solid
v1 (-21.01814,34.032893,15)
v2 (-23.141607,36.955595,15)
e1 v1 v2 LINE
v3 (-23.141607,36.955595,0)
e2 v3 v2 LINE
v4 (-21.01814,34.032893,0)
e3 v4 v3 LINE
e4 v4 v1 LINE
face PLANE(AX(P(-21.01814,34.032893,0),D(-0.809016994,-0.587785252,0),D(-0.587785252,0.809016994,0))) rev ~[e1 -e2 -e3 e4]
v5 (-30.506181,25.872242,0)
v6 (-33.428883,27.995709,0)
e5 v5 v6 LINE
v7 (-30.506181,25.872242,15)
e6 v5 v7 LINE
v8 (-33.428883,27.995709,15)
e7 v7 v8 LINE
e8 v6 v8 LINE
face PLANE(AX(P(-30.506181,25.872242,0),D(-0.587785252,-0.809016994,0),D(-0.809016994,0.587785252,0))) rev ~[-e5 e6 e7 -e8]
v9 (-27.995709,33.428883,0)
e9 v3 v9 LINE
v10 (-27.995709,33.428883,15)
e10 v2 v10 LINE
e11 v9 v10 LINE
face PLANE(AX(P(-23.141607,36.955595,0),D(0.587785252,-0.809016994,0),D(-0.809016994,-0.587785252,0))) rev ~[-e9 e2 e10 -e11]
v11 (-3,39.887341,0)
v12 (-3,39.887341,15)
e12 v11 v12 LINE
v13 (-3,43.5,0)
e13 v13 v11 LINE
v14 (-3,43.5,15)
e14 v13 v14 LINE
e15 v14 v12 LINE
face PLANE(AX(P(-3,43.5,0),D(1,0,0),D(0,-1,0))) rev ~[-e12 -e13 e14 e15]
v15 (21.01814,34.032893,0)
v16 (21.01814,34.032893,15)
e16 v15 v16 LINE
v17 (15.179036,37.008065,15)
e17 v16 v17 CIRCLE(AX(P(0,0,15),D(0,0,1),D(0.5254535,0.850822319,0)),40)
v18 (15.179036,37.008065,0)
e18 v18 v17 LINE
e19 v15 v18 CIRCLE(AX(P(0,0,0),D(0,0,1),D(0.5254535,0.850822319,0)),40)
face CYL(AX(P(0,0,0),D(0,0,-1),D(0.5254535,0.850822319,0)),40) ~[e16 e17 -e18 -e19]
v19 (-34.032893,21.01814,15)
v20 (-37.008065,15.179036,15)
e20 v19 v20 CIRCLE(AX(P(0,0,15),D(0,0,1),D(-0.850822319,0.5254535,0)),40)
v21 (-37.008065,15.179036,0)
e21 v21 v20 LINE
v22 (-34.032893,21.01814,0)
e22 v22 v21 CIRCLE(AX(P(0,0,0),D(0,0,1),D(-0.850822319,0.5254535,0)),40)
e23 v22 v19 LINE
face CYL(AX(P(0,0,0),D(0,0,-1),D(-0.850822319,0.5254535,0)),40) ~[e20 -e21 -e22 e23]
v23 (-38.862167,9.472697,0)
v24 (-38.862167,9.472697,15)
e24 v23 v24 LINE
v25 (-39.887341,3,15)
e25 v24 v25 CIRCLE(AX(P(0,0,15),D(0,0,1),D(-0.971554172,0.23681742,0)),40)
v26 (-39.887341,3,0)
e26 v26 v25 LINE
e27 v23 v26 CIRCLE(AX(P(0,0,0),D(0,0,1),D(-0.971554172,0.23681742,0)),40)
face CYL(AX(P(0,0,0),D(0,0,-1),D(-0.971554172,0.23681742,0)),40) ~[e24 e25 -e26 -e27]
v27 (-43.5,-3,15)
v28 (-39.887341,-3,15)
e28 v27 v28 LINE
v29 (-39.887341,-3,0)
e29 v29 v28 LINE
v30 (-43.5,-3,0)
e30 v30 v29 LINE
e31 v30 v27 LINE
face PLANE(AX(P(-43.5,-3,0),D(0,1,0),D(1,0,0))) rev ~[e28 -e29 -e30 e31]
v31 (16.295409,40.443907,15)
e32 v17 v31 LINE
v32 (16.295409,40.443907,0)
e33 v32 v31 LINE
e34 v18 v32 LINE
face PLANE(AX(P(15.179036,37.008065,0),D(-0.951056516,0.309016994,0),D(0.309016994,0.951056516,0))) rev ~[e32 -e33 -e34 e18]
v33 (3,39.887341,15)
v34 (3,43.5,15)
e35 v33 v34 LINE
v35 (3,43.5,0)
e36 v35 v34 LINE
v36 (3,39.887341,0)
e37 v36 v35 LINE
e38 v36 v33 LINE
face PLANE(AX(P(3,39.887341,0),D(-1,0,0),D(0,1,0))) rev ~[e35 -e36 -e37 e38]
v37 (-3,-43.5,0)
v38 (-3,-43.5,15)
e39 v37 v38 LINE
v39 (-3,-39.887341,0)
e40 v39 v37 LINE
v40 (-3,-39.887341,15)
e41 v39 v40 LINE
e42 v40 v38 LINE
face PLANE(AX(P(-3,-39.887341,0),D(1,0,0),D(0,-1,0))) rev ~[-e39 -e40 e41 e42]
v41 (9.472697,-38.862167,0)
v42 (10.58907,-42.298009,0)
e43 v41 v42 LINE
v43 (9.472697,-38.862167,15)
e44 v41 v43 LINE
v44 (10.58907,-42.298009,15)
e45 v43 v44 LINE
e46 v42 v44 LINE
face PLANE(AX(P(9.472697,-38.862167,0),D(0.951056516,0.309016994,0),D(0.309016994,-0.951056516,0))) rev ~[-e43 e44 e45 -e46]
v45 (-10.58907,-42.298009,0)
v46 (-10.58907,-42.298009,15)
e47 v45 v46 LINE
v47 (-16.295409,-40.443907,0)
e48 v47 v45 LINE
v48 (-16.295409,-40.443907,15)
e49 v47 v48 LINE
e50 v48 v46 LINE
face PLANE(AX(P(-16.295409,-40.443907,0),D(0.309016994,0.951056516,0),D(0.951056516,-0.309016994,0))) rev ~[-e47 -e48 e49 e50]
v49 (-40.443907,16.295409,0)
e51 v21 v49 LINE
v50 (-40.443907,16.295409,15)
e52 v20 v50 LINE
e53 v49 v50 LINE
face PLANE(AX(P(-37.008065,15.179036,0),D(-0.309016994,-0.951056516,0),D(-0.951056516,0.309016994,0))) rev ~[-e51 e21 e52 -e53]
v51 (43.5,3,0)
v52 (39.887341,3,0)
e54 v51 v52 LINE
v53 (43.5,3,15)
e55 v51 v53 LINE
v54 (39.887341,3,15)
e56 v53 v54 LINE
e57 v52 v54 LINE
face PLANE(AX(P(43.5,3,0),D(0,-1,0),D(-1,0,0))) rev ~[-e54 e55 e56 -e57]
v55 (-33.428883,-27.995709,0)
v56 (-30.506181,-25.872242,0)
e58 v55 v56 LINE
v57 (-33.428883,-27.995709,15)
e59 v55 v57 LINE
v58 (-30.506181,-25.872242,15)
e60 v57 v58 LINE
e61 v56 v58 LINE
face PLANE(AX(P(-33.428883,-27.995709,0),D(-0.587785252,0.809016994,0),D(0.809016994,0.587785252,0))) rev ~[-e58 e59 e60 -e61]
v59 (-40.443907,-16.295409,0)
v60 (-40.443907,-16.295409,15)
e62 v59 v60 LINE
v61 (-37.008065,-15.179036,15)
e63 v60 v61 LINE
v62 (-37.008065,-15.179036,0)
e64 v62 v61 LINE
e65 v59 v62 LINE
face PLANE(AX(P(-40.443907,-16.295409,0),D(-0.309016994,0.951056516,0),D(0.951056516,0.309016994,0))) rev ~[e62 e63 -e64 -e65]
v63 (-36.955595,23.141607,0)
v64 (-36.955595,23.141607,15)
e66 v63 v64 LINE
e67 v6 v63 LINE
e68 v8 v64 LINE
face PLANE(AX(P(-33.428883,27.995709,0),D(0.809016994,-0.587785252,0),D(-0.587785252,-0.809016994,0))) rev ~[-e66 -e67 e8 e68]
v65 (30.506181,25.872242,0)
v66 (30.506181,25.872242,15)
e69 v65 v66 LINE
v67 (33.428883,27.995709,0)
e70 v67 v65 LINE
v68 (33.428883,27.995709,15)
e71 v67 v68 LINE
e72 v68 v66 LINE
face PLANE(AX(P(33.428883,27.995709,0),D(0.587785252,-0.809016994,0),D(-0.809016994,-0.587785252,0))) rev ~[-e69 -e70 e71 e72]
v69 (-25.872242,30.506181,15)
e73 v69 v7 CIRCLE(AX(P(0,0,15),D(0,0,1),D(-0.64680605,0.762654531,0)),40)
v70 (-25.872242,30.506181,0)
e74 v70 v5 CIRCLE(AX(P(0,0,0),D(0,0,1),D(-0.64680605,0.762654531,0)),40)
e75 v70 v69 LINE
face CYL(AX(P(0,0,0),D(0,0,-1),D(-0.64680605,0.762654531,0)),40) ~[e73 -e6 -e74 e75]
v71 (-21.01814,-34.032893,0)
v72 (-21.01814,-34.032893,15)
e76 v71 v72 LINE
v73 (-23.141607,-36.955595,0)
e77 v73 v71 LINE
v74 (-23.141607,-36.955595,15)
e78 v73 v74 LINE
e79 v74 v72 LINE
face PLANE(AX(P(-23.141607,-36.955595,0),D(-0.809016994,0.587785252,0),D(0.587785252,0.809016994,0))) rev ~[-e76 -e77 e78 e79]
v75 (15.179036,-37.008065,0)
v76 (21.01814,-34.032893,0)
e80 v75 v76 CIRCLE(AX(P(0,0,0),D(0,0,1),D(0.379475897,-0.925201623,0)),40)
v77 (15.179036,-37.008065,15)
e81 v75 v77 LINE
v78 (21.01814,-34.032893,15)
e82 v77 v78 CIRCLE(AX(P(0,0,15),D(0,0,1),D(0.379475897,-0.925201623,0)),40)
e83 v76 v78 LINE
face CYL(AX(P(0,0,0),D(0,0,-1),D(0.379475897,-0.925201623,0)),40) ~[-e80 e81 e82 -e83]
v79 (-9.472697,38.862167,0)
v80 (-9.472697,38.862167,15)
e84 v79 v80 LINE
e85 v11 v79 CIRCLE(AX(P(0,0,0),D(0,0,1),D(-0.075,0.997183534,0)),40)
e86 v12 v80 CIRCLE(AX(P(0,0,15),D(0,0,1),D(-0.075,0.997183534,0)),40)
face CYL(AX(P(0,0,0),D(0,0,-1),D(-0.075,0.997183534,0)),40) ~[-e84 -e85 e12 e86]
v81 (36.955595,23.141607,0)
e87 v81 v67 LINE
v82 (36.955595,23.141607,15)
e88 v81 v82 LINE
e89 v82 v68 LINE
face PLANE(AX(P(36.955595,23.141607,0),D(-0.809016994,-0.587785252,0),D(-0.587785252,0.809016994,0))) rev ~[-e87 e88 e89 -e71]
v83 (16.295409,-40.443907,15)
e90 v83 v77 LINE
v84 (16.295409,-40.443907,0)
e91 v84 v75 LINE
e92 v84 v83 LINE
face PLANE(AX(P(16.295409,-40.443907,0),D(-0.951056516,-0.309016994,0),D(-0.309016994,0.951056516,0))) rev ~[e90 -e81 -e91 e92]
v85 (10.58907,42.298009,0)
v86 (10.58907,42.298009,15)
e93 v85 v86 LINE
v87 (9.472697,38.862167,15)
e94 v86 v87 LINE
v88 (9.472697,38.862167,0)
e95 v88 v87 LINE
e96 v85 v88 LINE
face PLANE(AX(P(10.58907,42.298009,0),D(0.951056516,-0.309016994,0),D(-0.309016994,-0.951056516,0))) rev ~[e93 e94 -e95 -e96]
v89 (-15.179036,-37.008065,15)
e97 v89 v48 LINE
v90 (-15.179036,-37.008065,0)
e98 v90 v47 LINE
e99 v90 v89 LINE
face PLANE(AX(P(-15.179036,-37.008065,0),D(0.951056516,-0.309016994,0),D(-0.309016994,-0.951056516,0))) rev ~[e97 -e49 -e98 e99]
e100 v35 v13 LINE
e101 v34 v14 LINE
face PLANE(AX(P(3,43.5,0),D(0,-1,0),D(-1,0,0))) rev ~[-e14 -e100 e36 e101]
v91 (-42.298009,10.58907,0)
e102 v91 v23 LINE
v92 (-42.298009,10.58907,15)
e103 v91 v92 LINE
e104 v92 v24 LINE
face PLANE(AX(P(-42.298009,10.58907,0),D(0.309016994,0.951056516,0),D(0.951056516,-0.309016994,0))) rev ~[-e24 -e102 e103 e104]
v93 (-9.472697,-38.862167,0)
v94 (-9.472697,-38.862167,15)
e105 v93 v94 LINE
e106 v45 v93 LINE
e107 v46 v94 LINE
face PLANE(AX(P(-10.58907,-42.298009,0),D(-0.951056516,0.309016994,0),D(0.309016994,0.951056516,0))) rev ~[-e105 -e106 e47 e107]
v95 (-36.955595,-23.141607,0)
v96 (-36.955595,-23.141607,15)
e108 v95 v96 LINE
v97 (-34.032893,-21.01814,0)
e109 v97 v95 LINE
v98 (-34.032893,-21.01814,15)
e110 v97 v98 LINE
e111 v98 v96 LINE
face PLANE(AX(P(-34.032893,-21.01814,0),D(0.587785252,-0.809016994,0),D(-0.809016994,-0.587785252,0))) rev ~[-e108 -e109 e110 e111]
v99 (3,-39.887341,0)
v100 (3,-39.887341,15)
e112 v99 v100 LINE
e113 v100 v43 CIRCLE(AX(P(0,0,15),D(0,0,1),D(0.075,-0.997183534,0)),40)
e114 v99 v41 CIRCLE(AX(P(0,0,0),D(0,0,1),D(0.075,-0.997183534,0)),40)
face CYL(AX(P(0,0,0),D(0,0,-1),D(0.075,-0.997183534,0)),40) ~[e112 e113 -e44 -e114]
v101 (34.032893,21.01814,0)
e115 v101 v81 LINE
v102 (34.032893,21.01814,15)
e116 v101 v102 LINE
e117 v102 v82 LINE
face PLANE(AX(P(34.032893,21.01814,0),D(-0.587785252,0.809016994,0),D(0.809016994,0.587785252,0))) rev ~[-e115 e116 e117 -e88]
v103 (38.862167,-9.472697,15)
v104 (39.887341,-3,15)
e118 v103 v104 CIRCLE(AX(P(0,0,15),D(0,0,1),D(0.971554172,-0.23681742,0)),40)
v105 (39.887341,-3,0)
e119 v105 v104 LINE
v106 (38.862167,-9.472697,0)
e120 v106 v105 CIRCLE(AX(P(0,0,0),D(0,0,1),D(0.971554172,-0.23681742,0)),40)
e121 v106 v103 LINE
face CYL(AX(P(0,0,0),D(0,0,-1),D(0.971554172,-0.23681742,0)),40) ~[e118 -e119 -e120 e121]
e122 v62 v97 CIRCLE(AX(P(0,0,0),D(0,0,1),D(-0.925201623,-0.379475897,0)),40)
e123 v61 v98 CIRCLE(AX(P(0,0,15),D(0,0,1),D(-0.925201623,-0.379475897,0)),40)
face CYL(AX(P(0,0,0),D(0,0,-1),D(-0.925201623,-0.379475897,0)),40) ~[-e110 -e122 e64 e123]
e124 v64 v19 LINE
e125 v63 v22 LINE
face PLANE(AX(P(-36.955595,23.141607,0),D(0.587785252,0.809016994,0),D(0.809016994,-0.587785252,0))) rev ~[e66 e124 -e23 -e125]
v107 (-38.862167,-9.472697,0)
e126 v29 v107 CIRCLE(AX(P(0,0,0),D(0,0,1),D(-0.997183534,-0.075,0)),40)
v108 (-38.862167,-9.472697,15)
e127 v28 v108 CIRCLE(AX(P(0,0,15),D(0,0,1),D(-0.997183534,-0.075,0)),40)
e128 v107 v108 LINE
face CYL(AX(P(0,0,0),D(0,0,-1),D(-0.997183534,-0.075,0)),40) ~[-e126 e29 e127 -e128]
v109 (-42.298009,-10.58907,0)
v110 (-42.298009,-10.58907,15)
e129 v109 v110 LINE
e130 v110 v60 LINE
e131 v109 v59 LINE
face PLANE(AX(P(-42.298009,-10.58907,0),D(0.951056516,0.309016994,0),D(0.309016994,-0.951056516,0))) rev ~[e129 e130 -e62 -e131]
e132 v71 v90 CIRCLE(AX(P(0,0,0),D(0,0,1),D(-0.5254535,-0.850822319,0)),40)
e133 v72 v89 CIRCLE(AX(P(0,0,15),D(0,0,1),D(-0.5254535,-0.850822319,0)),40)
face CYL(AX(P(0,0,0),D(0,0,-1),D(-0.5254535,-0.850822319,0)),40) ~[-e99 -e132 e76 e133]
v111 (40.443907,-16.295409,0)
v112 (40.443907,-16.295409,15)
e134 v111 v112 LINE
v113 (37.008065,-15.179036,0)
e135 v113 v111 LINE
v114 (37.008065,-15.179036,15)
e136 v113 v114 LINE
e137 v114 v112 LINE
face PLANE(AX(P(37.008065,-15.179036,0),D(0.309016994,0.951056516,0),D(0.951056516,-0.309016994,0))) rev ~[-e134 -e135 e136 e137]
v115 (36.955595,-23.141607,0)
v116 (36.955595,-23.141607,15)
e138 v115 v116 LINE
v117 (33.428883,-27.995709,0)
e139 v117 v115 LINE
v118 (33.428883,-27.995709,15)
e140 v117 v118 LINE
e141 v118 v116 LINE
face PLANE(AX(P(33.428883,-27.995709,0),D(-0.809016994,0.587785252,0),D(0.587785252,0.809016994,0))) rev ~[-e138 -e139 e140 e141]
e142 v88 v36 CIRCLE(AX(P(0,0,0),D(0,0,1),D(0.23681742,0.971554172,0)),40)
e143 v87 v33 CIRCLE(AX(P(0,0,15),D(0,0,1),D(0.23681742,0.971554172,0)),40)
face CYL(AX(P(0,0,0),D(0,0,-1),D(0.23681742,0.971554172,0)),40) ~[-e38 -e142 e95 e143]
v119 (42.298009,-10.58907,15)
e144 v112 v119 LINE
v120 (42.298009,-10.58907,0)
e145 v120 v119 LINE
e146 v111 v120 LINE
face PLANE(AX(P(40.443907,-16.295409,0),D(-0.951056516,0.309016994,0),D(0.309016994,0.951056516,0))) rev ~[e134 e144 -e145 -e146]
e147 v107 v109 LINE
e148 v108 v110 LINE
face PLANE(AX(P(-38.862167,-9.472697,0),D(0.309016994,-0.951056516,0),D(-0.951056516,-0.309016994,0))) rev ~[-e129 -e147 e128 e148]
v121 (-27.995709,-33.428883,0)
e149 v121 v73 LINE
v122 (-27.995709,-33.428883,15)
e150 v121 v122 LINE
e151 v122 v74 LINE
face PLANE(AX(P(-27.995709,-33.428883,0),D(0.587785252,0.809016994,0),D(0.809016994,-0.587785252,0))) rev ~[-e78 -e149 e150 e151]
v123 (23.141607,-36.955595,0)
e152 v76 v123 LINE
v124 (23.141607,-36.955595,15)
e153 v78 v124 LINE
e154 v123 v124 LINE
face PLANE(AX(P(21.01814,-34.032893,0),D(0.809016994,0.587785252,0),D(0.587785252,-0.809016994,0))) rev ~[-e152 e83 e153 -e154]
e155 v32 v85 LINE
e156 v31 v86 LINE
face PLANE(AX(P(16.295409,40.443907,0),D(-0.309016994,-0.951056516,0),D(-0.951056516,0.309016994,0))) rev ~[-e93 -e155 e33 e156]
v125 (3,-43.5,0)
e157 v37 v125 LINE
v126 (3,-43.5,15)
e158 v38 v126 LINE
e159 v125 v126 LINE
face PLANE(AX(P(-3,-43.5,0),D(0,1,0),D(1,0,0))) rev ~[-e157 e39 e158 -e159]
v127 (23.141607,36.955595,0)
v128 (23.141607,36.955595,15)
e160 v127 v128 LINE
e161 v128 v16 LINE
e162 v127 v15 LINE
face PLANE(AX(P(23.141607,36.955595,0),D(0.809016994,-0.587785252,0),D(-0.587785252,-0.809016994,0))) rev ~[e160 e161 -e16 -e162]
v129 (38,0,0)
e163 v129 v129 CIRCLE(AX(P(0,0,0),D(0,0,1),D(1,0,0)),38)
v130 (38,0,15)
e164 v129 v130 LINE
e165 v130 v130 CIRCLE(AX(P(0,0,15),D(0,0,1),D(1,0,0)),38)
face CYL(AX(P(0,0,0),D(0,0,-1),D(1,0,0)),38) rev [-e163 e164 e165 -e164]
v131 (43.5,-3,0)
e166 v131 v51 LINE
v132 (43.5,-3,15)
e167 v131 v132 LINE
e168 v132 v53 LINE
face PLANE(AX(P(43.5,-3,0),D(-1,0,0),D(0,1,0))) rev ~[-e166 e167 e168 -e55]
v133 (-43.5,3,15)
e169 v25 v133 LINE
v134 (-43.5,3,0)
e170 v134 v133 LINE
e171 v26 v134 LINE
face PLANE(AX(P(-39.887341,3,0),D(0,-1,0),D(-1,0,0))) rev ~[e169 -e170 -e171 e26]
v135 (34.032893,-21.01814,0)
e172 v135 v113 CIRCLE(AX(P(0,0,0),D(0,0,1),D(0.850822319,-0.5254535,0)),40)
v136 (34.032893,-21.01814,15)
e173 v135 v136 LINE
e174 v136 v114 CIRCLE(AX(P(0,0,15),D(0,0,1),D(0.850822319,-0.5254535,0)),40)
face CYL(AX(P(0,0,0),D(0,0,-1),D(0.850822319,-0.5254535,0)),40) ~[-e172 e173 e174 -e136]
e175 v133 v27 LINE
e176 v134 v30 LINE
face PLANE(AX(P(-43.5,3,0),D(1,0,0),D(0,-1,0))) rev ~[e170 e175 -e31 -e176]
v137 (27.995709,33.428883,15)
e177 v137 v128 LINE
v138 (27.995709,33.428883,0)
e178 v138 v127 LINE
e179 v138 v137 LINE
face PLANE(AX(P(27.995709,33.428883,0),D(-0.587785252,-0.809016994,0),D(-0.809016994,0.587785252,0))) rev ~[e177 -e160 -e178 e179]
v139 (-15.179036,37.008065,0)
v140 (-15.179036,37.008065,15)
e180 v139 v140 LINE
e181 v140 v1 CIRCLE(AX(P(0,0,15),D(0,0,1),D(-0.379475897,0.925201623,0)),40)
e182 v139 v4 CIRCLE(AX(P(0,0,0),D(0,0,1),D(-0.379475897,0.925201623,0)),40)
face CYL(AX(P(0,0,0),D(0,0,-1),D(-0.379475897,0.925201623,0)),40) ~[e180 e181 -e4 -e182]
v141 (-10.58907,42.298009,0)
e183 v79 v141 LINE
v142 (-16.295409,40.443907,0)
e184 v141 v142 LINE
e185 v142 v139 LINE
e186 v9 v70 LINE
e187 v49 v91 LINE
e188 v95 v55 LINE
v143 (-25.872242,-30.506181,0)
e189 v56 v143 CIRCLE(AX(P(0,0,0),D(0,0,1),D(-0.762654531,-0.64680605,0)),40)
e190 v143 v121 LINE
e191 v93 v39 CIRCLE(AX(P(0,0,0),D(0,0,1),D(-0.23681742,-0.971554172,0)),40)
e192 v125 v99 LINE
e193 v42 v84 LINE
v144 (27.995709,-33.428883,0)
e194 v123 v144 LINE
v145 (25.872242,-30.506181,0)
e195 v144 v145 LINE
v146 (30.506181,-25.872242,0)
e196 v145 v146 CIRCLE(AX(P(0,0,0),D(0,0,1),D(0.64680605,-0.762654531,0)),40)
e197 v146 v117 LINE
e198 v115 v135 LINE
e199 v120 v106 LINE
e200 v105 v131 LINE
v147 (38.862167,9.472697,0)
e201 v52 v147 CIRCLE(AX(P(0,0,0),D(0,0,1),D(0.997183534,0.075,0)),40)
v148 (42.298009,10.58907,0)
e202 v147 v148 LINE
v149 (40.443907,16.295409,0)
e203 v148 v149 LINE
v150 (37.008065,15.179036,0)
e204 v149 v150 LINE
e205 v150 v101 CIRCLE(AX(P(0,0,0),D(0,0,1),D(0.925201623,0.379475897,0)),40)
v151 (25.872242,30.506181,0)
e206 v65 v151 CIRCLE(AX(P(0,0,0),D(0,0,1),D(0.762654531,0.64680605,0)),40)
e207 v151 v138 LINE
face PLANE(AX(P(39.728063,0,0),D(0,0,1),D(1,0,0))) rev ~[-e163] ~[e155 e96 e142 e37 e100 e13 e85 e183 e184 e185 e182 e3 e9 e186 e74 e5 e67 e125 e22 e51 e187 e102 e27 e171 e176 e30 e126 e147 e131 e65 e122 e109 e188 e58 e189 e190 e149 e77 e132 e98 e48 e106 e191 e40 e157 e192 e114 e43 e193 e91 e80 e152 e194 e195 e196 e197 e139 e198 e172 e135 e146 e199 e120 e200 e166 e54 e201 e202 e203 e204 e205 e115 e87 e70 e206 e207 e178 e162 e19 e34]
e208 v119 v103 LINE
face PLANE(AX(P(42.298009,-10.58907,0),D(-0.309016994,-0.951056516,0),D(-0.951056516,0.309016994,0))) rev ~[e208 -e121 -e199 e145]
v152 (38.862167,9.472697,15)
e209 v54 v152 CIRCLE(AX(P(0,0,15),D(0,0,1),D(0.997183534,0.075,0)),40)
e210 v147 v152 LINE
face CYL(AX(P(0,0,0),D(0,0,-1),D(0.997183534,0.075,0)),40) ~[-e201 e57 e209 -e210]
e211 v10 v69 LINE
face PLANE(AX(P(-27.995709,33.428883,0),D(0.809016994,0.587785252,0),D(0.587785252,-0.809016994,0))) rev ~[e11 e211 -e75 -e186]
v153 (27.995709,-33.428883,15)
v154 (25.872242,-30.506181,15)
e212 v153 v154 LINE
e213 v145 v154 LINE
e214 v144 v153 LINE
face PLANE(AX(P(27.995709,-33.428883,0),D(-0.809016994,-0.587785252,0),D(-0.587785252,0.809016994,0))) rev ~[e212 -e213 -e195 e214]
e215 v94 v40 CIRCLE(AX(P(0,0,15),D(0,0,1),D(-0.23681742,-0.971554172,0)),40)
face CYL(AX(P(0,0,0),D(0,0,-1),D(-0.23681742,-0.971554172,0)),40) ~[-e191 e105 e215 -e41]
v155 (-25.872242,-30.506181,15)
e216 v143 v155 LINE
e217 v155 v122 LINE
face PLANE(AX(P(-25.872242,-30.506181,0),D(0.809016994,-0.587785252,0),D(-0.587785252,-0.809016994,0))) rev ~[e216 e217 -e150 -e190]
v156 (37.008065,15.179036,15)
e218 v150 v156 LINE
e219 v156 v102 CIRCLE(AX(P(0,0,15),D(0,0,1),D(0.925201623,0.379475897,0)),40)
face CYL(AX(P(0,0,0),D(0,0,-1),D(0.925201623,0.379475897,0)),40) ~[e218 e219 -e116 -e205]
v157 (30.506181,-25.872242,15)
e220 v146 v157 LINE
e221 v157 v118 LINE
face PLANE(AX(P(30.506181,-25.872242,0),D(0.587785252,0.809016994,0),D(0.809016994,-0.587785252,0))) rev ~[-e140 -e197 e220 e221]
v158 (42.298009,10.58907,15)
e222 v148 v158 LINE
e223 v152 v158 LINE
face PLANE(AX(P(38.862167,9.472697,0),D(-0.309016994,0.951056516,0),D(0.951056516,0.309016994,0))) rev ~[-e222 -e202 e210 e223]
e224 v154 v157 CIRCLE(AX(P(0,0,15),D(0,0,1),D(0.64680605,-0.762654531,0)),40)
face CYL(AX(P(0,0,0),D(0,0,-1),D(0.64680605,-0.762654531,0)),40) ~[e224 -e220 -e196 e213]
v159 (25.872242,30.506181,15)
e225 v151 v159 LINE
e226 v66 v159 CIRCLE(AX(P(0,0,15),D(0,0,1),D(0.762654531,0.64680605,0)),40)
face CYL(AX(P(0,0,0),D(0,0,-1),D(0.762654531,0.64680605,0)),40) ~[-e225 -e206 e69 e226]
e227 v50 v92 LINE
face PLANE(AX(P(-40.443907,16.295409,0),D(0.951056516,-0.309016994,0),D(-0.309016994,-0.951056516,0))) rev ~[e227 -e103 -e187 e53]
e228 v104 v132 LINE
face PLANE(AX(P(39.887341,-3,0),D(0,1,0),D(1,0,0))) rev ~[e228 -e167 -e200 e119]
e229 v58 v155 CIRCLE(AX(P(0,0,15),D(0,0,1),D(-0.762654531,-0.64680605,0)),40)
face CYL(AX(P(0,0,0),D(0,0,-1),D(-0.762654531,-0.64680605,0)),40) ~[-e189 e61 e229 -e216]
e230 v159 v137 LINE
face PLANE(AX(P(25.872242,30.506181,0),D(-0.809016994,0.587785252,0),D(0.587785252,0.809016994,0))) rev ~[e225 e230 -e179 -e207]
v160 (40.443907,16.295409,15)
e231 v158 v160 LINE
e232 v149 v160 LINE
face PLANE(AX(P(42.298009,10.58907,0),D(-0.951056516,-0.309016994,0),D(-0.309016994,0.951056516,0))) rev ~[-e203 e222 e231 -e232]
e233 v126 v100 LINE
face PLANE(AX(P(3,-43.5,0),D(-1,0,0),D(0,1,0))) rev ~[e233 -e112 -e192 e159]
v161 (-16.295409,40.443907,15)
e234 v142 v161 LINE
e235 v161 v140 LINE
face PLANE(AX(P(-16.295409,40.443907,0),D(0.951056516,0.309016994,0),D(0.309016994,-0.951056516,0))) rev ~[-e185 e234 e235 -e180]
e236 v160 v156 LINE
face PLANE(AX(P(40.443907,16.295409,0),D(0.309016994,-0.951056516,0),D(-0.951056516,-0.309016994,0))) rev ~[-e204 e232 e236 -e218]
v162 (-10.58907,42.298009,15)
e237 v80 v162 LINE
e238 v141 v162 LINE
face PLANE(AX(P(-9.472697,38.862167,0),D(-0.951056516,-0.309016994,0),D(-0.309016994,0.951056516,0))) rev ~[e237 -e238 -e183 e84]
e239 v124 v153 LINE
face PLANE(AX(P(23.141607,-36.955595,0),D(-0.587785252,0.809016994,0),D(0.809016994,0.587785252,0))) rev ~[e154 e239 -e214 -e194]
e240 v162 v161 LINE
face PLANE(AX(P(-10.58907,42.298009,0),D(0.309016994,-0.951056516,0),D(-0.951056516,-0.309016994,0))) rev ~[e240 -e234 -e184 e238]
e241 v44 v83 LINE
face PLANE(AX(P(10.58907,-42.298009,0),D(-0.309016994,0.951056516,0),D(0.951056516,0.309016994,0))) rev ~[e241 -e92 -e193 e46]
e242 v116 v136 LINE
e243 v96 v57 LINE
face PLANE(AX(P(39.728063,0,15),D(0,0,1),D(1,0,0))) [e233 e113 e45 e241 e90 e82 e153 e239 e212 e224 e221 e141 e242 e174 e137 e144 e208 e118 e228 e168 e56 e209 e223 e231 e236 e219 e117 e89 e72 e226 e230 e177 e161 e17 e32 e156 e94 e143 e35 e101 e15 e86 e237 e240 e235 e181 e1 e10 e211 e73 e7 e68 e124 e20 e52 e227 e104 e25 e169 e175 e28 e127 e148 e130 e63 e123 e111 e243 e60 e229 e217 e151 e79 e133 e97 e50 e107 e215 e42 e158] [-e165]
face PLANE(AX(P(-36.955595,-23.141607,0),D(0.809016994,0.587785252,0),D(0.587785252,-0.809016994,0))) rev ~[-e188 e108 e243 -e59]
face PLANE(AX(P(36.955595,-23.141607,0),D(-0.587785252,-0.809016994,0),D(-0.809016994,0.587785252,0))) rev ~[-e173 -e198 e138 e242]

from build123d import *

# Parameters (mm, degrees)
F0_R     = 38
F1_DEPTH = 15


with BuildPart() as f1:
    # F0 (on Top) → F1 (new body)
    with BuildSketch(Plane.XY):
        with BuildLine():
            ThreePointArc((39.8873413504, -3), (39.971825415, -1.5010572917), (40, 0))
            ThreePointArc((40, 0), (39.971825415, 1.5010572917), (39.8873413504, 3))
            Line((39.8873413504, 3), (39.5, 3))
            Line((39.5, 3), (39.5, -3))
            Line((39.5, -3), (39.8873413504, -3))
        make_face()
        with BuildLine():
            ThreePointArc((39.8873413504, 3), (39.971825415, 1.5010572917), (40, 0))
            ThreePointArc((40, 0), (39.971825415, -1.5010572917), (39.8873413504, -3))
            Line((39.8873413504, -3), (43.5, -3))
            Line((43.5, -3), (43.5, 3))
            Line((43.5, 3), (39.8873413504, 3))
        make_face()
        with BuildLine():
            Line((39.5, 3), (39.8873413504, 3))
            ThreePointArc((39.8873413504, 3), (39.5075336238, 6.2573786016), (38.8621668921, 9.4726967888))
            Line((38.8621668921, 9.4726967888), (38.4937833768, 9.3530017289))
            Line((38.4937833768, 9.3530017289), (36.6396814105, 15.0593408267))
            Line((36.6396814105, 15.0593408267), (37.0080649258, 15.1790358866))
            ThreePointArc((37.0080649258, 15.1790358866), (35.6402609675, 18.1596199896), (34.0328927698, 21.0181400158))
            Line((34.0328927698, 21.0181400158), (33.7195270347, 20.7904664824))
            Line((33.7195270347, 20.7904664824), (30.1928155209, 25.6445684487))
            Line((30.1928155209, 25.6445684487), (30.506181256, 25.872241982))
            ThreePointArc((30.506181256, 25.872241982), (28.2842712475, 28.2842712475), (25.872241982, 30.506181256))
            Line((25.872241982, 30.506181256), (25.6445684487, 30.1928155209))
            Line((25.6445684487, 30.1928155209), (20.7904664824, 33.7195270347))
            Line((20.7904664824, 33.7195270347), (21.0181400158, 34.0328927698))
            ThreePointArc((21.0181400158, 34.0328927698), (18.1596199896, 35.6402609675), (15.1790358866, 37.0080649258))
            Line((15.1790358866, 37.0080649258), (15.0593408267, 36.6396814105))
            Line((15.0593408267, 36.6396814105), (9.3530017289, 38.4937833768))
            Line((9.3530017289, 38.4937833768), (9.4726967888, 38.8621668921))
            ThreePointArc((9.4726967888, 38.8621668921), (6.2573786016, 39.5075336238), (3, 39.8873413504))
            Line((3, 39.8873413504), (3, 39.5))
            Line((3, 39.5), (-3, 39.5))
            Line((-3, 39.5), (-3, 39.8873413504))
            ThreePointArc((-3, 39.8873413504), (-6.2573786016, 39.5075336238), (-9.4726967888, 38.8621668921))
            Line((-9.4726967888, 38.8621668921), (-9.3530017289, 38.4937833768))
            Line((-9.3530017289, 38.4937833768), (-15.0593408267, 36.6396814105))
            Line((-15.0593408267, 36.6396814105), (-15.1790358866, 37.0080649258))
            ThreePointArc((-15.1790358866, 37.0080649258), (-18.1596199896, 35.6402609675), (-21.0181400158, 34.0328927698))
            Line((-21.0181400158, 34.0328927698), (-20.7904664824, 33.7195270347))
            Line((-20.7904664824, 33.7195270347), (-25.6445684487, 30.1928155209))
            Line((-25.6445684487, 30.1928155209), (-25.872241982, 30.506181256))
            ThreePointArc((-25.872241982, 30.506181256), (-28.2842712475, 28.2842712475), (-30.506181256, 25.872241982))
            Line((-30.506181256, 25.872241982), (-30.1928155209, 25.6445684487))
            Line((-30.1928155209, 25.6445684487), (-33.7195270347, 20.7904664824))
            Line((-33.7195270347, 20.7904664824), (-34.0328927698, 21.0181400158))
            ThreePointArc((-34.0328927698, 21.0181400158), (-35.6402609675, 18.1596199896), (-37.0080649258, 15.1790358866))
            Line((-37.0080649258, 15.1790358866), (-36.6396814105, 15.0593408267))
            Line((-36.6396814105, 15.0593408267), (-38.4937833768, 9.3530017289))
            Line((-38.4937833768, 9.3530017289), (-38.8621668921, 9.4726967888))
            ThreePointArc((-38.8621668921, 9.4726967888), (-39.5075336238, 6.2573786016), (-39.8873413504, 3))
            Line((-39.8873413504, 3), (-39.5, 3))
            Line((-39.5, 3), (-39.5, -3))
            Line((-39.5, -3), (-39.8873413504, -3))
            ThreePointArc((-39.8873413504, -3), (-39.5075336238, -6.2573786016), (-38.8621668921, -9.4726967888))
            Line((-38.8621668921, -9.4726967888), (-38.4937833768, -9.3530017289))
            Line((-38.4937833768, -9.3530017289), (-36.6396814105, -15.0593408267))
            Line((-36.6396814105, -15.0593408267), (-37.0080649258, -15.1790358866))
            ThreePointArc((-37.0080649258, -15.1790358866), (-35.6402609675, -18.1596199896), (-34.0328927698, -21.0181400158))
            Line((-34.0328927698, -21.0181400158), (-33.7195270347, -20.7904664824))
            Line((-33.7195270347, -20.7904664824), (-30.1928155209, -25.6445684487))
            Line((-30.1928155209, -25.6445684487), (-30.506181256, -25.872241982))
            ThreePointArc((-30.506181256, -25.872241982), (-28.2842712475, -28.2842712475), (-25.872241982, -30.506181256))
            Line((-25.872241982, -30.506181256), (-25.6445684487, -30.1928155209))
            Line((-25.6445684487, -30.1928155209), (-20.7904664824, -33.7195270347))
            Line((-20.7904664824, -33.7195270347), (-21.0181400158, -34.0328927698))
            ThreePointArc((-21.0181400158, -34.0328927698), (-18.1596199896, -35.6402609675), (-15.1790358866, -37.0080649258))
            Line((-15.1790358866, -37.0080649258), (-15.0593408267, -36.6396814105))
            Line((-15.0593408267, -36.6396814105), (-9.3530017289, -38.4937833768))
            Line((-9.3530017289, -38.4937833768), (-9.4726967888, -38.8621668921))
            ThreePointArc((-9.4726967888, -38.8621668921), (-6.2573786016, -39.5075336238), (-3, -39.8873413504))
            Line((-3, -39.8873413504), (-3, -39.5))
            Line((-3, -39.5), (3, -39.5))
            Line((3, -39.5), (3, -39.8873413504))
            ThreePointArc((3, -39.8873413504), (6.2573786016, -39.5075336238), (9.4726967888, -38.8621668921))
            Line((9.4726967888, -38.8621668921), (9.3530017289, -38.4937833768))
            Line((9.3530017289, -38.4937833768), (15.0593408267, -36.6396814105))
            Line((15.0593408267, -36.6396814105), (15.1790358866, -37.0080649258))
            ThreePointArc((15.1790358866, -37.0080649258), (18.1596199896, -35.6402609675), (21.0181400158, -34.0328927698))
            Line((21.0181400158, -34.0328927698), (20.7904664824, -33.7195270347))
            Line((20.7904664824, -33.7195270347), (25.6445684487, -30.1928155209))
            Line((25.6445684487, -30.1928155209), (25.872241982, -30.506181256))
            ThreePointArc((25.872241982, -30.506181256), (28.2842712475, -28.2842712475), (30.506181256, -25.872241982))
            Line((30.506181256, -25.872241982), (30.1928155209, -25.6445684487))
            Line((30.1928155209, -25.6445684487), (33.7195270347, -20.7904664824))
            Line((33.7195270347, -20.7904664824), (34.0328927698, -21.0181400158))
            ThreePointArc((34.0328927698, -21.0181400158), (35.6402609675, -18.1596199896), (37.0080649258, -15.1790358866))
            Line((37.0080649258, -15.1790358866), (36.6396814105, -15.0593408267))
            Line((36.6396814105, -15.0593408267), (38.4937833768, -9.3530017289))
            Line((38.4937833768, -9.3530017289), (38.8621668921, -9.4726967888))
            ThreePointArc((38.8621668921, -9.4726967888), (39.5075336238, -6.2573786016), (39.8873413504, -3))
            Line((39.8873413504, -3), (39.5, -3))
            Line((39.5, -3), (39.5, 3))
        make_face()
        Circle(F0_R, mode=Mode.SUBTRACT)
        with BuildLine():
            Line((38.4937833768, 9.3530017289), (38.8621668921, 9.4726967888))
            ThreePointArc((38.8621668921, 9.4726967888), (38.0422606518, 12.360679775), (37.0080649258, 15.1790358866))
            Line((37.0080649258, 15.1790358866), (36.6396814105, 15.0593408267))
            Line((36.6396814105, 15.0593408267), (38.4937833768, 9.3530017289))
        make_face()
        with BuildLine():
            ThreePointArc((37.0080649258, 15.1790358866), (38.0422606518, 12.360679775), (38.8621668921, 9.4726967888))
            Line((38.8621668921, 9.4726967888), (42.298009442, 10.5890697064))
            Line((42.298009442, 10.5890697064), (40.4439074757, 16.2954088042))
            Line((40.4439074757, 16.2954088042), (37.0080649258, 15.1790358866))
        make_face()
        with BuildLine():
            Line((42.298009442, -10.5890697064), (38.8621668921, -9.4726967888))
            ThreePointArc((38.8621668921, -9.4726967888), (38.0422606518, -12.360679775), (37.0080649258, -15.1790358866))
            Line((37.0080649258, -15.1790358866), (40.4439074757, -16.2954088042))
            Line((40.4439074757, -16.2954088042), (42.298009442, -10.5890697064))
        make_face()
        with BuildLine():
            ThreePointArc((37.0080649258, -15.1790358866), (38.0422606518, -12.360679775), (38.8621668921, -9.4726967888))
            Line((38.8621668921, -9.4726967888), (38.4937833768, -9.3530017289))
            Line((38.4937833768, -9.3530017289), (36.6396814105, -15.0593408267))
            Line((36.6396814105, -15.0593408267), (37.0080649258, -15.1790358866))
        make_face()
        with BuildLine():
            Line((33.7195270347, 20.7904664824), (34.0328927698, 21.0181400158))
            ThreePointArc((34.0328927698, 21.0181400158), (32.360679775, 23.5114100917), (30.506181256, 25.872241982))
            Line((30.506181256, 25.872241982), (30.1928155209, 25.6445684487))
            Line((30.1928155209, 25.6445684487), (33.7195270347, 20.7904664824))
        make_face()
        with BuildLine():
            ThreePointArc((30.506181256, 25.872241982), (32.360679775, 23.5114100917), (34.0328927698, 21.0181400158))
            Line((34.0328927698, 21.0181400158), (36.9555950122, 23.1416074916))
            Line((36.9555950122, 23.1416074916), (33.4288834984, 27.9957094578))
            Line((33.4288834984, 27.9957094578), (30.506181256, 25.872241982))
        make_face()
        with BuildLine():
            Line((36.9555950122, -23.1416074916), (34.0328927698, -21.0181400158))
            ThreePointArc((34.0328927698, -21.0181400158), (32.360679775, -23.5114100917), (30.506181256, -25.872241982))
            Line((30.506181256, -25.872241982), (33.4288834984, -27.9957094578))
            Line((33.4288834984, -27.9957094578), (36.9555950122, -23.1416074916))
        make_face()
        with BuildLine():
            ThreePointArc((30.506181256, -25.872241982), (32.360679775, -23.5114100917), (34.0328927698, -21.0181400158))
            Line((34.0328927698, -21.0181400158), (33.7195270347, -20.7904664824))
            Line((33.7195270347, -20.7904664824), (30.1928155209, -25.6445684487))
            Line((30.1928155209, -25.6445684487), (30.506181256, -25.872241982))
        make_face()
        with BuildLine():
            Line((25.6445684487, 30.1928155209), (25.872241982, 30.506181256))
            ThreePointArc((25.872241982, 30.506181256), (23.5114100917, 32.360679775), (21.0181400158, 34.0328927698))
            Line((21.0181400158, 34.0328927698), (20.7904664824, 33.7195270347))
            Line((20.7904664824, 33.7195270347), (25.6445684487, 30.1928155209))
        make_face()
        with BuildLine():
            ThreePointArc((21.0181400158, 34.0328927698), (23.5114100917, 32.360679775), (25.872241982, 30.506181256))
            Line((25.872241982, 30.506181256), (27.9957094578, 33.4288834984))
            Line((27.9957094578, 33.4288834984), (23.1416074916, 36.9555950122))
            Line((23.1416074916, 36.9555950122), (21.0181400158, 34.0328927698))
        make_face()
        with BuildLine():
            Line((27.9957094578, -33.4288834984), (25.872241982, -30.506181256))
            ThreePointArc((25.872241982, -30.506181256), (23.5114100917, -32.360679775), (21.0181400158, -34.0328927698))
            Line((21.0181400158, -34.0328927698), (23.1416074916, -36.9555950122))
            Line((23.1416074916, -36.9555950122), (27.9957094578, -33.4288834984))
        make_face()
        with BuildLine():
            ThreePointArc((21.0181400158, -34.0328927698), (23.5114100917, -32.360679775), (25.872241982, -30.506181256))
            Line((25.872241982, -30.506181256), (25.6445684487, -30.1928155209))
            Line((25.6445684487, -30.1928155209), (20.7904664824, -33.7195270347))
            Line((20.7904664824, -33.7195270347), (21.0181400158, -34.0328927698))
        make_face()
        with BuildLine():
            Line((15.0593408267, 36.6396814105), (15.1790358866, 37.0080649258))
            ThreePointArc((15.1790358866, 37.0080649258), (12.360679775, 38.0422606518), (9.4726967888, 38.8621668921))
            Line((9.4726967888, 38.8621668921), (9.3530017289, 38.4937833768))
            Line((9.3530017289, 38.4937833768), (15.0593408267, 36.6396814105))
        make_face()
        with BuildLine():
            ThreePointArc((9.4726967888, 38.8621668921), (12.360679775, 38.0422606518), (15.1790358866, 37.0080649258))
            Line((15.1790358866, 37.0080649258), (16.2954088042, 40.4439074757))
            Line((16.2954088042, 40.4439074757), (10.5890697064, 42.298009442))
            Line((10.5890697064, 42.298009442), (9.4726967888, 38.8621668921))
        make_face()
        with BuildLine():
            Line((16.2954088042, -40.4439074757), (15.1790358866, -37.0080649258))
            ThreePointArc((15.1790358866, -37.0080649258), (12.360679775, -38.0422606518), (9.4726967888, -38.8621668921))
            Line((9.4726967888, -38.8621668921), (10.5890697064, -42.298009442))
            Line((10.5890697064, -42.298009442), (16.2954088042, -40.4439074757))
        make_face()
        with BuildLine():
            ThreePointArc((9.4726967888, -38.8621668921), (12.360679775, -38.0422606518), (15.1790358866, -37.0080649258))
            Line((15.1790358866, -37.0080649258), (15.0593408267, -36.6396814105))
            Line((15.0593408267, -36.6396814105), (9.3530017289, -38.4937833768))
            Line((9.3530017289, -38.4937833768), (9.4726967888, -38.8621668921))
        make_face()
        with BuildLine():
            Line((3, 39.5), (3, 39.8873413504))
            ThreePointArc((3, 39.8873413504), (0, 40), (-3, 39.8873413504))
            Line((-3, 39.8873413504), (-3, 39.5))
            Line((-3, 39.5), (3, 39.5))
        make_face()
        with BuildLine():
            ThreePointArc((-3, 39.8873413504), (0, 40), (3, 39.8873413504))
            Line((3, 39.8873413504), (3, 43.5))
            Line((3, 43.5), (-3, 43.5))
            Line((-3, 43.5), (-3, 39.8873413504))
        make_face()
        with BuildLine():
            Line((3, -43.5), (3, -39.8873413504))
            ThreePointArc((3, -39.8873413504), (0, -40), (-3, -39.8873413504))
            Line((-3, -39.8873413504), (-3, -43.5))
            Line((-3, -43.5), (3, -43.5))
        make_face()
        with BuildLine():
            ThreePointArc((-3, -39.8873413504), (0, -40), (3, -39.8873413504))
            Line((3, -39.8873413504), (3, -39.5))
            Line((3, -39.5), (-3, -39.5))
            Line((-3, -39.5), (-3, -39.8873413504))
        make_face()
        with BuildLine():
            Line((-9.3530017289, 38.4937833768), (-9.4726967888, 38.8621668921))
            ThreePointArc((-9.4726967888, 38.8621668921), (-12.360679775, 38.0422606518), (-15.1790358866, 37.0080649258))
            Line((-15.1790358866, 37.0080649258), (-15.0593408267, 36.6396814105))
            Line((-15.0593408267, 36.6396814105), (-9.3530017289, 38.4937833768))
        make_face()
        with BuildLine():
            ThreePointArc((-15.1790358866, 37.0080649258), (-12.360679775, 38.0422606518), (-9.4726967888, 38.8621668921))
            Line((-9.4726967888, 38.8621668921), (-10.5890697064, 42.298009442))
            Line((-10.5890697064, 42.298009442), (-16.2954088042, 40.4439074757))
            Line((-16.2954088042, 40.4439074757), (-15.1790358866, 37.0080649258))
        make_face()
        with BuildLine():
            Line((-10.5890697064, -42.298009442), (-9.4726967888, -38.8621668921))
            ThreePointArc((-9.4726967888, -38.8621668921), (-12.360679775, -38.0422606518), (-15.1790358866, -37.0080649258))
            Line((-15.1790358866, -37.0080649258), (-16.2954088042, -40.4439074757))
            Line((-16.2954088042, -40.4439074757), (-10.5890697064, -42.298009442))
        make_face()
        with BuildLine():
            ThreePointArc((-15.1790358866, -37.0080649258), (-12.360679775, -38.0422606518), (-9.4726967888, -38.8621668921))
            Line((-9.4726967888, -38.8621668921), (-9.3530017289, -38.4937833768))
            Line((-9.3530017289, -38.4937833768), (-15.0593408267, -36.6396814105))
            Line((-15.0593408267, -36.6396814105), (-15.1790358866, -37.0080649258))
        make_face()
        with BuildLine():
            Line((-20.7904664824, 33.7195270347), (-21.0181400158, 34.0328927698))
            ThreePointArc((-21.0181400158, 34.0328927698), (-23.5114100917, 32.360679775), (-25.872241982, 30.506181256))
            Line((-25.872241982, 30.506181256), (-25.6445684487, 30.1928155209))
            Line((-25.6445684487, 30.1928155209), (-20.7904664824, 33.7195270347))
        make_face()
        with BuildLine():
            ThreePointArc((-25.872241982, 30.506181256), (-23.5114100917, 32.360679775), (-21.0181400158, 34.0328927698))
            Line((-21.0181400158, 34.0328927698), (-23.1416074916, 36.9555950122))
            Line((-23.1416074916, 36.9555950122), (-27.9957094578, 33.4288834984))
            Line((-27.9957094578, 33.4288834984), (-25.872241982, 30.506181256))
        make_face()
        with BuildLine():
            Line((-23.1416074916, -36.9555950122), (-21.0181400158, -34.0328927698))
            ThreePointArc((-21.0181400158, -34.0328927698), (-23.5114100917, -32.360679775), (-25.872241982, -30.506181256))
            Line((-25.872241982, -30.506181256), (-27.9957094578, -33.4288834984))
            Line((-27.9957094578, -33.4288834984), (-23.1416074916, -36.9555950122))
        make_face()
        with BuildLine():
            ThreePointArc((-25.872241982, -30.506181256), (-23.5114100917, -32.360679775), (-21.0181400158, -34.0328927698))
            Line((-21.0181400158, -34.0328927698), (-20.7904664824, -33.7195270347))
            Line((-20.7904664824, -33.7195270347), (-25.6445684487, -30.1928155209))
            Line((-25.6445684487, -30.1928155209), (-25.872241982, -30.506181256))
        make_face()
        with BuildLine():
            Line((-30.1928155209, 25.6445684487), (-30.506181256, 25.872241982))
            ThreePointArc((-30.506181256, 25.872241982), (-32.360679775, 23.5114100917), (-34.0328927698, 21.0181400158))
            Line((-34.0328927698, 21.0181400158), (-33.7195270347, 20.7904664824))
            Line((-33.7195270347, 20.7904664824), (-30.1928155209, 25.6445684487))
        make_face()
        with BuildLine():
            ThreePointArc((-34.0328927698, 21.0181400158), (-32.360679775, 23.5114100917), (-30.506181256, 25.872241982))
            Line((-30.506181256, 25.872241982), (-33.4288834984, 27.9957094578))
            Line((-33.4288834984, 27.9957094578), (-36.9555950122, 23.1416074916))
            Line((-36.9555950122, 23.1416074916), (-34.0328927698, 21.0181400158))
        make_face()
        with BuildLine():
            Line((-33.4288834984, -27.9957094578), (-30.506181256, -25.872241982))
            ThreePointArc((-30.506181256, -25.872241982), (-32.360679775, -23.5114100917), (-34.0328927698, -21.0181400158))
            Line((-34.0328927698, -21.0181400158), (-36.9555950122, -23.1416074916))
            Line((-36.9555950122, -23.1416074916), (-33.4288834984, -27.9957094578))
        make_face()
        with BuildLine():
            ThreePointArc((-34.0328927698, -21.0181400158), (-32.360679775, -23.5114100917), (-30.506181256, -25.872241982))
            Line((-30.506181256, -25.872241982), (-30.1928155209, -25.6445684487))
            Line((-30.1928155209, -25.6445684487), (-33.7195270347, -20.7904664824))
            Line((-33.7195270347, -20.7904664824), (-34.0328927698, -21.0181400158))
        make_face()
        with BuildLine():
            Line((-36.6396814105, 15.0593408267), (-37.0080649258, 15.1790358866))
            ThreePointArc((-37.0080649258, 15.1790358866), (-38.0422606518, 12.360679775), (-38.8621668921, 9.4726967888))
            Line((-38.8621668921, 9.4726967888), (-38.4937833768, 9.3530017289))
            Line((-38.4937833768, 9.3530017289), (-36.6396814105, 15.0593408267))
        make_face()
        with BuildLine():
            ThreePointArc((-38.8621668921, 9.4726967888), (-38.0422606518, 12.360679775), (-37.0080649258, 15.1790358866))
            Line((-37.0080649258, 15.1790358866), (-40.4439074757, 16.2954088042))
            Line((-40.4439074757, 16.2954088042), (-42.298009442, 10.5890697064))
            Line((-42.298009442, 10.5890697064), (-38.8621668921, 9.4726967888))
        make_face()
        with BuildLine():
            Line((-40.4439074757, -16.2954088042), (-37.0080649258, -15.1790358866))
            ThreePointArc((-37.0080649258, -15.1790358866), (-38.0422606518, -12.360679775), (-38.8621668921, -9.4726967888))
            Line((-38.8621668921, -9.4726967888), (-42.298009442, -10.5890697064))
            Line((-42.298009442, -10.5890697064), (-40.4439074757, -16.2954088042))
        make_face()
        with BuildLine():
            ThreePointArc((-38.8621668921, -9.4726967888), (-38.0422606518, -12.360679775), (-37.0080649258, -15.1790358866))
            Line((-37.0080649258, -15.1790358866), (-36.6396814105, -15.0593408267))
            Line((-36.6396814105, -15.0593408267), (-38.4937833768, -9.3530017289))
            Line((-38.4937833768, -9.3530017289), (-38.8621668921, -9.4726967888))
        make_face()
        with BuildLine():
            Line((-39.5, 3), (-39.8873413504, 3))
            ThreePointArc((-39.8873413504, 3), (-40, 0), (-39.8873413504, -3))
            Line((-39.8873413504, -3), (-39.5, -3))
            Line((-39.5, -3), (-39.5, 3))
        make_face()
        with BuildLine():
            ThreePointArc((-39.8873413504, -3), (-40, 0), (-39.8873413504, 3))
            Line((-39.8873413504, 3), (-43.5, 3))
            Line((-43.5, 3), (-43.5, -3))
            Line((-43.5, -3), (-39.8873413504, -3))
        make_face()
    extrude(amount=F1_DEPTH)


solid = f1.part
